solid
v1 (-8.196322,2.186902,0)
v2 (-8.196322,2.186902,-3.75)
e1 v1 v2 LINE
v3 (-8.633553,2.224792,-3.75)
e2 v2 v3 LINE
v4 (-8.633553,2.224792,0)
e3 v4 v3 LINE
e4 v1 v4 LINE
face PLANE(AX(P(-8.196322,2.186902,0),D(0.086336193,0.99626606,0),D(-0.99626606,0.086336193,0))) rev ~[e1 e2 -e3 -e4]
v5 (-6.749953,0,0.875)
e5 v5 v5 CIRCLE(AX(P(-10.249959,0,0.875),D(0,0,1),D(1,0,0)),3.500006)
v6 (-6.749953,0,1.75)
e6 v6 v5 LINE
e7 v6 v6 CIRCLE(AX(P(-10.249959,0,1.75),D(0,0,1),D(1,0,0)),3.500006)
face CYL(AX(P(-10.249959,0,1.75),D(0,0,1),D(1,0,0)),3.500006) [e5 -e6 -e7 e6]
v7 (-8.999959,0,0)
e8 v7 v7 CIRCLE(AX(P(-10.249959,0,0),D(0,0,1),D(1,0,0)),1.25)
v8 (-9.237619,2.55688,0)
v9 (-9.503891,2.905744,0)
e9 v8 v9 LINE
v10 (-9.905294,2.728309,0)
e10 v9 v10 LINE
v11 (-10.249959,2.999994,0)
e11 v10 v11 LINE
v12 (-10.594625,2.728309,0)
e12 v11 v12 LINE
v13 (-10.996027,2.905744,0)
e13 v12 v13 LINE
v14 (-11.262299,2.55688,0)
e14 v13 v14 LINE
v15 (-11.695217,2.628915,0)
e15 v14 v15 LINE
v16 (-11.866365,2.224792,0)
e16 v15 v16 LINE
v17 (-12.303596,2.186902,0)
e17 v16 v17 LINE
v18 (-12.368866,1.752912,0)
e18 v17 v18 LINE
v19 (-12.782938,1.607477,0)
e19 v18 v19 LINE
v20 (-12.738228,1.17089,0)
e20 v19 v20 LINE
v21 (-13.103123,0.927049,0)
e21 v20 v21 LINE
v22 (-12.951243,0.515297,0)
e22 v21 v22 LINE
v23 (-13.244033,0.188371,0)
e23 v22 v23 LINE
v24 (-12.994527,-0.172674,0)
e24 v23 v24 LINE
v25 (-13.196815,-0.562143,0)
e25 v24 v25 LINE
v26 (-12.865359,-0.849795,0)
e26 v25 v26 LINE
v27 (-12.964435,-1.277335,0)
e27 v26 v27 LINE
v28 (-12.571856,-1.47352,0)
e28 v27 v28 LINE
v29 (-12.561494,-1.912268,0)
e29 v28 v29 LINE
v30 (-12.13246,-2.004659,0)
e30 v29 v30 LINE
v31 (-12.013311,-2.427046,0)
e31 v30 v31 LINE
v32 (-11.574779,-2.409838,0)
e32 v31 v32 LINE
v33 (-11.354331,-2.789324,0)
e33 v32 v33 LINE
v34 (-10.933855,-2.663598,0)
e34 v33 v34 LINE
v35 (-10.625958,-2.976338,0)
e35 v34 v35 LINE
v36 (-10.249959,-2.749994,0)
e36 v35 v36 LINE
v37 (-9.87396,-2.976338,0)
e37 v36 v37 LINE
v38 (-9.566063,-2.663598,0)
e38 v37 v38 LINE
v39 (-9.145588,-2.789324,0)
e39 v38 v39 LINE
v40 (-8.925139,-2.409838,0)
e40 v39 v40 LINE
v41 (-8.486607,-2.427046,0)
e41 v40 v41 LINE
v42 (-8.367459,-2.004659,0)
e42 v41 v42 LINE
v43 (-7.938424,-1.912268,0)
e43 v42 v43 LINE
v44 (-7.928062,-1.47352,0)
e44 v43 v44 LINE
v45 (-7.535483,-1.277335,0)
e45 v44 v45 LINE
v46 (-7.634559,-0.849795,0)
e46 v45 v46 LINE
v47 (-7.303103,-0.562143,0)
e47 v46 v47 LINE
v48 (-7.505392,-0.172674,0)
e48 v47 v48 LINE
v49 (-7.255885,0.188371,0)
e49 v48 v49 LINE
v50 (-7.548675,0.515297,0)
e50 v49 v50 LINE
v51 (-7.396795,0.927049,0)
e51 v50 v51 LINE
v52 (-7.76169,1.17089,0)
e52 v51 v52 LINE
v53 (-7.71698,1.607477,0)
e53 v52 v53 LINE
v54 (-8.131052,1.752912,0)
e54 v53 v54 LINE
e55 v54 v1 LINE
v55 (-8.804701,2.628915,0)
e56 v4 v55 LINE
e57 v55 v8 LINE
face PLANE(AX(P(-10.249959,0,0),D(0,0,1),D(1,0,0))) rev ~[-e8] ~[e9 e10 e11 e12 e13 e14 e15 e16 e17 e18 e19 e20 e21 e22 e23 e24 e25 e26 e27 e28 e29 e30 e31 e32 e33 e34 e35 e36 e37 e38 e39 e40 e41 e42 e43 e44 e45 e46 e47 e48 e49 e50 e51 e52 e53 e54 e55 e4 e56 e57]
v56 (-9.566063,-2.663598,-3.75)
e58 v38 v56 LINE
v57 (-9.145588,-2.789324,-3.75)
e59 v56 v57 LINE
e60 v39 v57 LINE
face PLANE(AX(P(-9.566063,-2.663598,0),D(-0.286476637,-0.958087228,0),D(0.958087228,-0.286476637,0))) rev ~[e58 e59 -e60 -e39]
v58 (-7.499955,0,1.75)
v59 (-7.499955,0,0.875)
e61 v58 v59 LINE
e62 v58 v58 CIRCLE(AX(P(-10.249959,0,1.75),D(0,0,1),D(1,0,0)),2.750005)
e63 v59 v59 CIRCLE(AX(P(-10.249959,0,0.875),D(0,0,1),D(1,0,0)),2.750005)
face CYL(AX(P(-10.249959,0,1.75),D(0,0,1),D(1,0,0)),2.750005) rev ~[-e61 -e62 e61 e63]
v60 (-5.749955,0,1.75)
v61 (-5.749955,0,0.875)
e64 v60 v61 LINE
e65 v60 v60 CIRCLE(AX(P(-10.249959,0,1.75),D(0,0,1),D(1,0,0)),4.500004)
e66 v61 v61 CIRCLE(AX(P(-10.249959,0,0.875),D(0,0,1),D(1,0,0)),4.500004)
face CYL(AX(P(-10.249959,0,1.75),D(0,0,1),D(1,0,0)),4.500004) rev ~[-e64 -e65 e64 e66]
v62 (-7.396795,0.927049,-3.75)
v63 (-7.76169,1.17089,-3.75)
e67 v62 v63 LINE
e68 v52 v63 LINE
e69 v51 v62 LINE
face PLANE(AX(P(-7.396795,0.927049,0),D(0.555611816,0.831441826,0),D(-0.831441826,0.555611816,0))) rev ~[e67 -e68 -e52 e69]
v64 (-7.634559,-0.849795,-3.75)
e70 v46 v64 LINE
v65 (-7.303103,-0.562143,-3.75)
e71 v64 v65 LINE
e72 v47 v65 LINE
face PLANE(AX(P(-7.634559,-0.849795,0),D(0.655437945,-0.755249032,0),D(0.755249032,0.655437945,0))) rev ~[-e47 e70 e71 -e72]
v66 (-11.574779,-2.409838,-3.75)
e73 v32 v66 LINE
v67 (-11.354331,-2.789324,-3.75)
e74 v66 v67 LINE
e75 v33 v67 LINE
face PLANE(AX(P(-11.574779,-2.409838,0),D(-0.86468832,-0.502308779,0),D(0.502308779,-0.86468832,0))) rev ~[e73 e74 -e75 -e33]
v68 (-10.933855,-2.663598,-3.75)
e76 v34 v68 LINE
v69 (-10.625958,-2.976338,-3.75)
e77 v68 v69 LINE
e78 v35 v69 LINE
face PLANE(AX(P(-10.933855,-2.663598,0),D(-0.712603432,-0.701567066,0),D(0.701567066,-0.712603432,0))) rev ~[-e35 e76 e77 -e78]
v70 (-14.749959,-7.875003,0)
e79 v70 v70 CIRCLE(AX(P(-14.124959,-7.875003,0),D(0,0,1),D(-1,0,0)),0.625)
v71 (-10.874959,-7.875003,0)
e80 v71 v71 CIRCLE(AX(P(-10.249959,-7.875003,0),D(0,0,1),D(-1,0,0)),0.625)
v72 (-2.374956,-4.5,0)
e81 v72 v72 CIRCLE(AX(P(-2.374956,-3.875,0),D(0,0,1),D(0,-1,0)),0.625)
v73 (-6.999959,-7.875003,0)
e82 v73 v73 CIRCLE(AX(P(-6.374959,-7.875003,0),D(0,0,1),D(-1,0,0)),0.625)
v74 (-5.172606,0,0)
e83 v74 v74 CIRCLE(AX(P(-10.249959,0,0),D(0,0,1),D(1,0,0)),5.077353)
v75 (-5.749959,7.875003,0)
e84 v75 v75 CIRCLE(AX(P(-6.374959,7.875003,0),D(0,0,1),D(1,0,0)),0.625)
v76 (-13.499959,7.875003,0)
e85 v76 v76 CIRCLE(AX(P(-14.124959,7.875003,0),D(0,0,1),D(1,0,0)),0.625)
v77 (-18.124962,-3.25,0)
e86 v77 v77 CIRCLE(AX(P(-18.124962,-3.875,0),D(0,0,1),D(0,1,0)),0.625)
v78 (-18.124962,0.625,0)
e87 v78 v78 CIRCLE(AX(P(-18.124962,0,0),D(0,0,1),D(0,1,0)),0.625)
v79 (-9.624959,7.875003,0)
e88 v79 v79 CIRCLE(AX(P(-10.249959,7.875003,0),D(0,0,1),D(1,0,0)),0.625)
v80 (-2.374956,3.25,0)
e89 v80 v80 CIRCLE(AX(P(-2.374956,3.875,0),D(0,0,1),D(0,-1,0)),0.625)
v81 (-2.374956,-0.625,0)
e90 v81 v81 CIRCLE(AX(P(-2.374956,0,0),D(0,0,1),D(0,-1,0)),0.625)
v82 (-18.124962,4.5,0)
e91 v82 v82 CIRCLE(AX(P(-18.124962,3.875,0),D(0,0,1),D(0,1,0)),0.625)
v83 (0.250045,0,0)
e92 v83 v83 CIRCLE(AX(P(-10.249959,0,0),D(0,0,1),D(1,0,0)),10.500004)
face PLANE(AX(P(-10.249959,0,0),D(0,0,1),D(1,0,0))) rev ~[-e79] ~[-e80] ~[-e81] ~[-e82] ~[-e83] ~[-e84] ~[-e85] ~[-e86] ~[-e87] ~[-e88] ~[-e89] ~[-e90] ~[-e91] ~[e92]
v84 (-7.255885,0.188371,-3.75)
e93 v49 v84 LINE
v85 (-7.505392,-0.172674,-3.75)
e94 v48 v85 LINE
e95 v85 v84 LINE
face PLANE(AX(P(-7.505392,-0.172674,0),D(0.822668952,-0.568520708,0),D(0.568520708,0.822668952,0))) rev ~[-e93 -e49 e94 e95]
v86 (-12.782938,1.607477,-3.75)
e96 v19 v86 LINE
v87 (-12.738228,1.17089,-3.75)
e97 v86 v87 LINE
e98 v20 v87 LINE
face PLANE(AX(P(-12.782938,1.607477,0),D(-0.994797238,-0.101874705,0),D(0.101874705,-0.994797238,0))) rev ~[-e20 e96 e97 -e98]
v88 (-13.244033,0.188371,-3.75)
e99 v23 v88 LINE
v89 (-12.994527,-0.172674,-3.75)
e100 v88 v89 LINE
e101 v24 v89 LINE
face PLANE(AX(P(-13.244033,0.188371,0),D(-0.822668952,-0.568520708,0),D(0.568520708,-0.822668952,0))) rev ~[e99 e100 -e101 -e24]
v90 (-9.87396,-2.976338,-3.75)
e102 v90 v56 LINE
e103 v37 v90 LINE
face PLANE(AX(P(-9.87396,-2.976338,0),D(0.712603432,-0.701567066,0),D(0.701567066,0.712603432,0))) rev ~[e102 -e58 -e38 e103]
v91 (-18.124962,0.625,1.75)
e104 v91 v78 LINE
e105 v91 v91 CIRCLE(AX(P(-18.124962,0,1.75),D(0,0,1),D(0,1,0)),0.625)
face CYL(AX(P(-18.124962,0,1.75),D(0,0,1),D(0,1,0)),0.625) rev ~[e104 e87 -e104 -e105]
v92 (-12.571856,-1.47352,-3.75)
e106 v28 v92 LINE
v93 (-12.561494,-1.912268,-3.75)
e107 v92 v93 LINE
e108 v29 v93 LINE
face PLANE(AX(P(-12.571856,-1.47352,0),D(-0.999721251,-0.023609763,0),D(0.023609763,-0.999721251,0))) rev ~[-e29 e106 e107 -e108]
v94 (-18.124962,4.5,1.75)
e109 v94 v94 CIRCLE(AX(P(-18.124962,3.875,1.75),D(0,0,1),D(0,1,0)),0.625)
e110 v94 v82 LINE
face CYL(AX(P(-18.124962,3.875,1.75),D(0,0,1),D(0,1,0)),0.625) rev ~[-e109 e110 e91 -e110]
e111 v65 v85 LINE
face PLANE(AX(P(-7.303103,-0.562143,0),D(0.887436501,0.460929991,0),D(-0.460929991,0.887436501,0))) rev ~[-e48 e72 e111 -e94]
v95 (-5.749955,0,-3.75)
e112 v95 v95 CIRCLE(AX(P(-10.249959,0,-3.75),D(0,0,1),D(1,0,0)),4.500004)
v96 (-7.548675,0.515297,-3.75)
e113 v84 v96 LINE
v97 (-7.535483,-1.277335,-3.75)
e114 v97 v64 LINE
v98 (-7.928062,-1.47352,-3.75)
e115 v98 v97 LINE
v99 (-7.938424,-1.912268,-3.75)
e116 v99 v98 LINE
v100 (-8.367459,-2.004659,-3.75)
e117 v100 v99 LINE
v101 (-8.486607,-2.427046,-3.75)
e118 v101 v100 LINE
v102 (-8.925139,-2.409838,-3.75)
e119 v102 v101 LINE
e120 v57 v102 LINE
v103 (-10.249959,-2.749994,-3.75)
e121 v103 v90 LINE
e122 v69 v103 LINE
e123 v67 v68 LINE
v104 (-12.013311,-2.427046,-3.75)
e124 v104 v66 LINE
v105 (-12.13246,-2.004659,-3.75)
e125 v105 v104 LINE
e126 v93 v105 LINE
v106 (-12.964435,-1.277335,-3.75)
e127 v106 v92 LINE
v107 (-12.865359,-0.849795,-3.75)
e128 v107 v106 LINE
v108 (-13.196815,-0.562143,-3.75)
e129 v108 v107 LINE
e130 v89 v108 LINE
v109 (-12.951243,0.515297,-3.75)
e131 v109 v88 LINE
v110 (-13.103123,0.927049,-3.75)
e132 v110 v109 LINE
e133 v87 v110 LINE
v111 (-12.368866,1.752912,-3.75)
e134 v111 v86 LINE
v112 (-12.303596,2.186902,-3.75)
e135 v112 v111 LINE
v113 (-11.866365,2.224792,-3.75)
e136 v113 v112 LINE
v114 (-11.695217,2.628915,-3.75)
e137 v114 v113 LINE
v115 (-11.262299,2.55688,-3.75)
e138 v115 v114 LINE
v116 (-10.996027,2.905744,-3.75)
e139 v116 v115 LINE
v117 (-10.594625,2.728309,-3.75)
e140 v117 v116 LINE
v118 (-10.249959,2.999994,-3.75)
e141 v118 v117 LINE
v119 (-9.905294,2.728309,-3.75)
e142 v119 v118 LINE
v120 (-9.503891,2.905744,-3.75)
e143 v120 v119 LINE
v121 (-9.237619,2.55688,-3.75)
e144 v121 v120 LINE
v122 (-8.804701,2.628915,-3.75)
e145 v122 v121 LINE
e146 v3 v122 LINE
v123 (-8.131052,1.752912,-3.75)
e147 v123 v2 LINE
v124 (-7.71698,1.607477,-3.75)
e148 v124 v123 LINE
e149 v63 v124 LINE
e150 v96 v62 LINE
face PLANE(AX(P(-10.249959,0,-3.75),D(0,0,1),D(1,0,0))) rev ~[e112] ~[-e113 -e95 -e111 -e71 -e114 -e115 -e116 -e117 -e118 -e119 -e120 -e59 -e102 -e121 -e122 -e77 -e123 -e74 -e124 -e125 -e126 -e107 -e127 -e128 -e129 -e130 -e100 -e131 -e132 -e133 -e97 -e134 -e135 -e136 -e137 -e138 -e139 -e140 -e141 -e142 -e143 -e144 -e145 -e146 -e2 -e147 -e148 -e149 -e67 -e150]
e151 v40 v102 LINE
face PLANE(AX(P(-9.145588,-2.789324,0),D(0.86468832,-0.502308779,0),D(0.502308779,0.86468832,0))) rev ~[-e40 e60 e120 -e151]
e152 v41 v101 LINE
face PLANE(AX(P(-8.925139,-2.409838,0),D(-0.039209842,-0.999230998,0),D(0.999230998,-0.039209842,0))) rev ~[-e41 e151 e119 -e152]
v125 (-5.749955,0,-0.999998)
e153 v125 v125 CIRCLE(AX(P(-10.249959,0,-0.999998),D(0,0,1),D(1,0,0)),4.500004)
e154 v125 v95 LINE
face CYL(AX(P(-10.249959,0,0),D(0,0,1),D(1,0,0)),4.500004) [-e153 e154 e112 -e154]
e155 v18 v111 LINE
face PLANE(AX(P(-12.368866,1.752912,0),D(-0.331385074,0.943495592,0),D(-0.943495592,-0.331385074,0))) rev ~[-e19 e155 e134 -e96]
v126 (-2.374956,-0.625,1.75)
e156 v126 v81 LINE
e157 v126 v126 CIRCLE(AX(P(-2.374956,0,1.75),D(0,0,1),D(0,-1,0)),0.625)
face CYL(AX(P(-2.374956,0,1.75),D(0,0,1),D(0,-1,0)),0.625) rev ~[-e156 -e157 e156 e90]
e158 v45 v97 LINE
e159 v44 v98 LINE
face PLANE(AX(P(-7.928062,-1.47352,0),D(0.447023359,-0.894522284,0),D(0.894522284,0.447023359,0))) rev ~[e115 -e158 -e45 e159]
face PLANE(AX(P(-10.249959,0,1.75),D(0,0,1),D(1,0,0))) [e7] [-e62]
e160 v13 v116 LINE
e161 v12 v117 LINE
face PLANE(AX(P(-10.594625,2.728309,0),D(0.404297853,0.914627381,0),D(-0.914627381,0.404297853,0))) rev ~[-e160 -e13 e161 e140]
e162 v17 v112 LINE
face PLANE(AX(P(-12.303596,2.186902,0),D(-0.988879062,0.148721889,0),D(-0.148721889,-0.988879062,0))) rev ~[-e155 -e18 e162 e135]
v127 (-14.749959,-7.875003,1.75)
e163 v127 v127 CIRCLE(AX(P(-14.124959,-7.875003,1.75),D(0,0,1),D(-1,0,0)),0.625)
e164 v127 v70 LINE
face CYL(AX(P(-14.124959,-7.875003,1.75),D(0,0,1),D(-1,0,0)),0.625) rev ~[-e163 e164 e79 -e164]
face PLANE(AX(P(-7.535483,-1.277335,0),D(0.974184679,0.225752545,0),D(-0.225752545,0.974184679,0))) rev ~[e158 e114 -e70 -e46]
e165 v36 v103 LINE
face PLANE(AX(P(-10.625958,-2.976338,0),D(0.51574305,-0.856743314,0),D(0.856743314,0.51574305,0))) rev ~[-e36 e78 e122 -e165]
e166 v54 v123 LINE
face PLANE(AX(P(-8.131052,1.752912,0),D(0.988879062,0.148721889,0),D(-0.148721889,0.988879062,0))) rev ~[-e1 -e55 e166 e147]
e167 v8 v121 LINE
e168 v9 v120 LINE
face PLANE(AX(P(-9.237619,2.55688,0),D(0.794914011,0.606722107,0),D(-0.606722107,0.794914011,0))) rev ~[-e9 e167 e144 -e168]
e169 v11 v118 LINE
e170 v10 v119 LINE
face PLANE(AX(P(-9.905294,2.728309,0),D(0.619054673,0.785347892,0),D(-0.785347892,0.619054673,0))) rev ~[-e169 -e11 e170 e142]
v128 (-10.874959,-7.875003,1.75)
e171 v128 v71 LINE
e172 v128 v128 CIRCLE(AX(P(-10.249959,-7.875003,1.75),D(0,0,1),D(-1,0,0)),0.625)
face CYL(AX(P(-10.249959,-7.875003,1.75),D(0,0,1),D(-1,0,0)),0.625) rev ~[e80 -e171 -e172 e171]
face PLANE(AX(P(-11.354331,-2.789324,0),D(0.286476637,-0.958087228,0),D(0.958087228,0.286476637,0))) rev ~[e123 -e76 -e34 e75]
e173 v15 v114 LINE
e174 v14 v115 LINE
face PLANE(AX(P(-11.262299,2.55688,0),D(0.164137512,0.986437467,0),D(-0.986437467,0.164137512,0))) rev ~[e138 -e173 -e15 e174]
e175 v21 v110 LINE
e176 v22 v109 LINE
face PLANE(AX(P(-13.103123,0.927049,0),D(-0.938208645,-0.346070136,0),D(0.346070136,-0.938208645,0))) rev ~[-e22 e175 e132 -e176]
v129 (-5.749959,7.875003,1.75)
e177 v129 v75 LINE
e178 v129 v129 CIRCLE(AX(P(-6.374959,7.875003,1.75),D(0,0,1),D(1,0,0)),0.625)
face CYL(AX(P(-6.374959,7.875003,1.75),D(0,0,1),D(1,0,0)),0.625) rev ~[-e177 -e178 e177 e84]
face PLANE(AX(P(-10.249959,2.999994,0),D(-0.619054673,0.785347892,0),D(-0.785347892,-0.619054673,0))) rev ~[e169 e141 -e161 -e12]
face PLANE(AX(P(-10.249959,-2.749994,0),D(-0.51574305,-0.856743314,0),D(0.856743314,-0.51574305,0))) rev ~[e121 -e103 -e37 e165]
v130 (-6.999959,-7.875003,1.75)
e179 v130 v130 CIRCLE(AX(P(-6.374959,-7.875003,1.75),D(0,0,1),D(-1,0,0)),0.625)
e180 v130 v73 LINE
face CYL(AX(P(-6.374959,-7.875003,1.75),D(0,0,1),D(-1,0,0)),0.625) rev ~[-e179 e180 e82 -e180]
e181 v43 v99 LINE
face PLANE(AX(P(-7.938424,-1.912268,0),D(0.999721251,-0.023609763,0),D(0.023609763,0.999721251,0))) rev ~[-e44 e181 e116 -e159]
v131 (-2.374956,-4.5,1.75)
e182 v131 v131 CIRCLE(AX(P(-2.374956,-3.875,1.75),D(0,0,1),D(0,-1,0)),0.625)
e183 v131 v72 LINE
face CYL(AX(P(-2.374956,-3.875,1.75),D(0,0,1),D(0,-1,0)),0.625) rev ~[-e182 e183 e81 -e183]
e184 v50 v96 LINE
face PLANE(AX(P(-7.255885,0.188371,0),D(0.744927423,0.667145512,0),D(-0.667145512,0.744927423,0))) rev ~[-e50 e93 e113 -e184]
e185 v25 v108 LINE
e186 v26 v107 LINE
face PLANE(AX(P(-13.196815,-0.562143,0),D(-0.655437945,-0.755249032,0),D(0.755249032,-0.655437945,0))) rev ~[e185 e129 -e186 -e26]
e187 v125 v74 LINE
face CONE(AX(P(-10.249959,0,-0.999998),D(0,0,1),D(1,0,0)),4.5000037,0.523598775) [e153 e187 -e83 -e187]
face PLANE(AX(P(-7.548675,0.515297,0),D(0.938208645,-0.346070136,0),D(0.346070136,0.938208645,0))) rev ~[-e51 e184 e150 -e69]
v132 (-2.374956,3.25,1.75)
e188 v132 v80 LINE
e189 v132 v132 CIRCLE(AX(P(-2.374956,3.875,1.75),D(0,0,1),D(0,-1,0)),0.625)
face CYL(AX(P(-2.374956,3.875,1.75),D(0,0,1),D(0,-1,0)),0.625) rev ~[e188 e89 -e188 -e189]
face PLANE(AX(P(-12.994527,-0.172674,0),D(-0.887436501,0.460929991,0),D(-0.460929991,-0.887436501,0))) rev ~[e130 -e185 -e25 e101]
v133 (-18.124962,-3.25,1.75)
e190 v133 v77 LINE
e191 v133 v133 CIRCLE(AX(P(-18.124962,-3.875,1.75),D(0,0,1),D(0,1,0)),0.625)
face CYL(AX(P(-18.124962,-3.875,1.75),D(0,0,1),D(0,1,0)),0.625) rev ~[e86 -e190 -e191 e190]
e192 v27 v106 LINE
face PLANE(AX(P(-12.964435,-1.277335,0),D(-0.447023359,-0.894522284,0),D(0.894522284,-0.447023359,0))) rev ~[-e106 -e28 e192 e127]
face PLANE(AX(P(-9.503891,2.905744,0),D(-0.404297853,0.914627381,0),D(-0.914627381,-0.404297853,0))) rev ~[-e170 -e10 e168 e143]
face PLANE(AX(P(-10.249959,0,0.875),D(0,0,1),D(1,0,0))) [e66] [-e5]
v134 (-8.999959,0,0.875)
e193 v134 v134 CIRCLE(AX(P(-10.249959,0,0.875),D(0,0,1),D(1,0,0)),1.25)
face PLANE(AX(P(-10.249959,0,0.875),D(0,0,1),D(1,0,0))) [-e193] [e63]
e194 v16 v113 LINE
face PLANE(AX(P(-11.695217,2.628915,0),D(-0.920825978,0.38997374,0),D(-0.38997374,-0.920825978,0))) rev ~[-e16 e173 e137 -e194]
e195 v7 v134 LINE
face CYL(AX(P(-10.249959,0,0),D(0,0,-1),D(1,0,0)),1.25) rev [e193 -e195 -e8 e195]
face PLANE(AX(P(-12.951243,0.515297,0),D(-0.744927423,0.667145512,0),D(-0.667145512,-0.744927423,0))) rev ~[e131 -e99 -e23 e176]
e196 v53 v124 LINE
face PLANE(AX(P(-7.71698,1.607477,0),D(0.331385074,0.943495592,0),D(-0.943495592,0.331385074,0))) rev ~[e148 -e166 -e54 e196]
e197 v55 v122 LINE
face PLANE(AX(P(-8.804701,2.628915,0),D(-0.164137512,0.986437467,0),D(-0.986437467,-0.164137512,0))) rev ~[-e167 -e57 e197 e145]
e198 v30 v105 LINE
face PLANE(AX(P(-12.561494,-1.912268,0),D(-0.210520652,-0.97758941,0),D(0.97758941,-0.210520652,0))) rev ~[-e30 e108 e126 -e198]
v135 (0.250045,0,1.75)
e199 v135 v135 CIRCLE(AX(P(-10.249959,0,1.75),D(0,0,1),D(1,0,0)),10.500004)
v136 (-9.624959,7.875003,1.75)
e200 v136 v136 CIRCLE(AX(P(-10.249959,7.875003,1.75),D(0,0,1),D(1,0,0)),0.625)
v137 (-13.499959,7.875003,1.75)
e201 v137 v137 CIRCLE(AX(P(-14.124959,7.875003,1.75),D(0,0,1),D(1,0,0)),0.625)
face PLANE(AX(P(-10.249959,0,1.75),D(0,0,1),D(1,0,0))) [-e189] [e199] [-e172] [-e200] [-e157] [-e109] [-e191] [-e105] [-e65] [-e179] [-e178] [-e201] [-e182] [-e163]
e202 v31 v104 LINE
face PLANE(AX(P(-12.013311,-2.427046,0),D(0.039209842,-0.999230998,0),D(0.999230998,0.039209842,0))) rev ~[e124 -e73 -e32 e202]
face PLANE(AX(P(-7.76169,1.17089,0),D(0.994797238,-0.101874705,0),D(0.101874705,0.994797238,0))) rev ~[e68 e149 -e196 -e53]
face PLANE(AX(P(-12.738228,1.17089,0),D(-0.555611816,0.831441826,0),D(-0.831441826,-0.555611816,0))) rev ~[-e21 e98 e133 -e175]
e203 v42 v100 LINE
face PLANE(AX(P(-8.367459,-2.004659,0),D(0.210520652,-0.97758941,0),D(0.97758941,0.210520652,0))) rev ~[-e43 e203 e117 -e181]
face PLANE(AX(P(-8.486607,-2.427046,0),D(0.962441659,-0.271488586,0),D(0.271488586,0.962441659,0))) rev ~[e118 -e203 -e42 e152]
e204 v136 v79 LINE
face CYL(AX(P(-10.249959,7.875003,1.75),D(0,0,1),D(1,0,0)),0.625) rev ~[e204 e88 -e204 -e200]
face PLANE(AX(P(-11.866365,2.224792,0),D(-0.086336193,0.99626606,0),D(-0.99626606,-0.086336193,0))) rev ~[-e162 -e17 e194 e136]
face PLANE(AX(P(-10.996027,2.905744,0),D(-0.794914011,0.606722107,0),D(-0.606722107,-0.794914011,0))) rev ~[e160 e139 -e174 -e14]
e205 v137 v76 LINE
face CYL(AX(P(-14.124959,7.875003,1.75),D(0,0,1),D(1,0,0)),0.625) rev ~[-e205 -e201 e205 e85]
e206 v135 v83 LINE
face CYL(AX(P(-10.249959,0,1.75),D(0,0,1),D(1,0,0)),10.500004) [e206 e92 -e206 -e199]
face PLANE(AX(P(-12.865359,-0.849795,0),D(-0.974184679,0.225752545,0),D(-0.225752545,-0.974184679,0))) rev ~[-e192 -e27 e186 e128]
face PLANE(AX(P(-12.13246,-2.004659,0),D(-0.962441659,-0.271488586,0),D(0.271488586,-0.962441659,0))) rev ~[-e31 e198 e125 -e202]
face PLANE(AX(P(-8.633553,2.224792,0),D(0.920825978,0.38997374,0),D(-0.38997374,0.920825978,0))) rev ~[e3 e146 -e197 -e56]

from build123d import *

# Parameters (mm, degrees)
SKETCH1_R           = 4.5000037
BOSS_EXTRUDE1_DEPTH = 3.75000012
SKETCH2_R           = 4.5000037
SKETCH2_R_2         = 3.499999998
SKETCH2_R_3         = 1.25000004
BOSS_EXTRUDE2_DEPTH = 1.750000056
SKETCH4_R           = 2.75000466
SKETCH4_R_2         = 1.25000004
CUT_EXTRUDE1_DEPTH  = 0.875000028
SKETCH6_R           = 4.5000037
SKETCH6_R_2         = 3.5000057
CUT_EXTRUDE2_DEPTH  = 0.875000028
SKETCH7_R           = 10.5000044
SKETCH7_R_2         = 4.5000037
BOSS_EXTRUDE3_DEPTH = 1.750000056
SKETCH9_R           = 0.62500002
CUT_EXTRUDE3_DEPTH  = 6.500000176
CIRPATTERN1_COUNT   = 4
CHAMFER1_SIZE       = 0.999998
CHAMFER1_SIZE2      = 0.577349114


with BuildPart() as part:
    # Sketch1 → Boss-Extrude1 (new body)
    with BuildSketch(Plane.XY):
        with Locations((-10.24995918, 0)):
            Circle(SKETCH1_R)
        Polygon((-10.24995918, 2.999994), (-10.594624819, 2.728309468), (-10.996027349, 2.905743672), (-11.262299488, 2.55687975), (-11.695217312, 2.628914782), (-11.866365092, 2.224791874), (-12.303596391, 2.186901508), (-12.368865968, 1.752912142), (-12.782937891, 1.60747717), (-12.738228138, 1.170890494), (-13.103123023, 0.927049129), (-12.951243218, 0.515297489), (-13.244033377, 0.188371182), (-12.994526687, -0.172673551), (-13.196815038, -0.562142819), (-12.865358886, -0.849794878), (-12.964434908, -1.27733532), (-12.571855902, -1.473520467), (-12.561494285, -1.912268145), (-12.132459609, -2.004659346), (-12.01331141, -2.427046129), (-11.574778889, -2.409838105), (-11.354330629, -2.789323879), (-10.933854876, -2.663597874), (-10.625958129, -2.976338151), (-10.24995918, -2.749993992), (-9.873960231, -2.976338151), (-9.566063484, -2.663597874), (-9.145587731, -2.789323879), (-8.925139471, -2.409838105), (-8.48660695, -2.427046129), (-8.367458751, -2.004659346), (-7.938424075, -1.912268145), (-7.928062458, -1.473520467), (-7.535483452, -1.27733532), (-7.634559474, -0.849794878), (-7.303103322, -0.562142819), (-7.505391673, -0.172673551), (-7.255884983, 0.188371182), (-7.548675142, 0.515297489), (-7.396795337, 0.927049129), (-7.761690222, 1.170890494), (-7.716980469, 1.60747717), (-8.131052392, 1.752912142), (-8.196321969, 2.186901508), (-8.633553268, 2.224791874), (-8.804701048, 2.628914782), (-9.237618872, 2.55687975), (-9.503891011, 2.905743672), (-9.905293541, 2.728309468), align=None, mode=Mode.SUBTRACT)
    extrude(amount=-BOSS_EXTRUDE1_DEPTH)

    # Sketch2 → Boss-Extrude2 (add)
    with BuildSketch(Plane.XY):
        with Locations((-10.24995918, 0)):
            Circle(SKETCH2_R)
        with Locations((-10.24995918, 0)):
            Circle(SKETCH2_R_2, mode=Mode.SUBTRACT)
        with Locations((-10.24995918, 0)):
            Circle(SKETCH2_R_2)
        with Locations((-10.24995918, 0)):
            Circle(SKETCH2_R_3, mode=Mode.SUBTRACT)
    extrude(amount=BOSS_EXTRUDE2_DEPTH)

    # Sketch4 → Cut-Extrude1 (cut)
    with BuildSketch(Plane.XY.offset(1.750000056)):
        with Locations((-10.24995918, 0)):
            Circle(SKETCH4_R)
        with Locations((-10.24995918, 0)):
            Circle(SKETCH4_R_2, mode=Mode.SUBTRACT)
    extrude(amount=-CUT_EXTRUDE1_DEPTH, mode=Mode.SUBTRACT)

    # Sketch6 → Cut-Extrude2 (cut)
    with BuildSketch(Plane.XY.offset(1.750000056)):
        with Locations((-10.24995918, 0)):
            Circle(SKETCH6_R)
        with Locations((-10.24995918, 0)):
            Circle(SKETCH6_R_2, mode=Mode.SUBTRACT)
    extrude(amount=-CUT_EXTRUDE2_DEPTH, mode=Mode.SUBTRACT)

    # Sketch7 → Boss-Extrude3 (add)
    with BuildSketch(Plane.XY.offset(1.750000056)):
        with Locations((-10.24995918, 0)):
            Circle(SKETCH7_R)
        with Locations((-10.24995918, 0)):
            Circle(SKETCH7_R_2, mode=Mode.SUBTRACT)
    extrude(amount=-BOSS_EXTRUDE3_DEPTH)

    # Sketch9 → Cut-Extrude3 (cut, through all)
    with BuildSketch(Plane.XY.offset(1.750000056)):
        with Locations((-10.24995918, 7.8750033)):
            Circle(SKETCH9_R)
        with Locations((-14.124959304, 7.8750033)):
            Circle(SKETCH9_R)
        with Locations((-6.374959056, 7.8750033)):
            Circle(SKETCH9_R)
    cut_extrude3 = extrude(amount=-CUT_EXTRUDE3_DEPTH, mode=Mode.SUBTRACT)

    # CirPattern1: Cut-Extrude3 ×4 about axis
    cirpattern1_axis = Axis((-10.24995918, 0, 0), (0, 0, 1))
    for i in range(1, CIRPATTERN1_COUNT):
        add(cut_extrude3.rotate(cirpattern1_axis, i * 360 / CIRPATTERN1_COUNT), mode=Mode.SUBTRACT)

    # Chamfer1
    chamfer1_edges = [part.edges().sort_by_distance(p)[0] for p in [
        (-14.74996288, 0, 0),
    ]]
    chamfer1_side = [part.faces().sort_by_distance(p)[0] for p in [
        (-14.74996288, 0, -1.87500006),
    ]]
    chamfer(chamfer1_edges, length=CHAMFER1_SIZE, length2=CHAMFER1_SIZE2, reference=chamfer1_side[0])


solid = part.part
